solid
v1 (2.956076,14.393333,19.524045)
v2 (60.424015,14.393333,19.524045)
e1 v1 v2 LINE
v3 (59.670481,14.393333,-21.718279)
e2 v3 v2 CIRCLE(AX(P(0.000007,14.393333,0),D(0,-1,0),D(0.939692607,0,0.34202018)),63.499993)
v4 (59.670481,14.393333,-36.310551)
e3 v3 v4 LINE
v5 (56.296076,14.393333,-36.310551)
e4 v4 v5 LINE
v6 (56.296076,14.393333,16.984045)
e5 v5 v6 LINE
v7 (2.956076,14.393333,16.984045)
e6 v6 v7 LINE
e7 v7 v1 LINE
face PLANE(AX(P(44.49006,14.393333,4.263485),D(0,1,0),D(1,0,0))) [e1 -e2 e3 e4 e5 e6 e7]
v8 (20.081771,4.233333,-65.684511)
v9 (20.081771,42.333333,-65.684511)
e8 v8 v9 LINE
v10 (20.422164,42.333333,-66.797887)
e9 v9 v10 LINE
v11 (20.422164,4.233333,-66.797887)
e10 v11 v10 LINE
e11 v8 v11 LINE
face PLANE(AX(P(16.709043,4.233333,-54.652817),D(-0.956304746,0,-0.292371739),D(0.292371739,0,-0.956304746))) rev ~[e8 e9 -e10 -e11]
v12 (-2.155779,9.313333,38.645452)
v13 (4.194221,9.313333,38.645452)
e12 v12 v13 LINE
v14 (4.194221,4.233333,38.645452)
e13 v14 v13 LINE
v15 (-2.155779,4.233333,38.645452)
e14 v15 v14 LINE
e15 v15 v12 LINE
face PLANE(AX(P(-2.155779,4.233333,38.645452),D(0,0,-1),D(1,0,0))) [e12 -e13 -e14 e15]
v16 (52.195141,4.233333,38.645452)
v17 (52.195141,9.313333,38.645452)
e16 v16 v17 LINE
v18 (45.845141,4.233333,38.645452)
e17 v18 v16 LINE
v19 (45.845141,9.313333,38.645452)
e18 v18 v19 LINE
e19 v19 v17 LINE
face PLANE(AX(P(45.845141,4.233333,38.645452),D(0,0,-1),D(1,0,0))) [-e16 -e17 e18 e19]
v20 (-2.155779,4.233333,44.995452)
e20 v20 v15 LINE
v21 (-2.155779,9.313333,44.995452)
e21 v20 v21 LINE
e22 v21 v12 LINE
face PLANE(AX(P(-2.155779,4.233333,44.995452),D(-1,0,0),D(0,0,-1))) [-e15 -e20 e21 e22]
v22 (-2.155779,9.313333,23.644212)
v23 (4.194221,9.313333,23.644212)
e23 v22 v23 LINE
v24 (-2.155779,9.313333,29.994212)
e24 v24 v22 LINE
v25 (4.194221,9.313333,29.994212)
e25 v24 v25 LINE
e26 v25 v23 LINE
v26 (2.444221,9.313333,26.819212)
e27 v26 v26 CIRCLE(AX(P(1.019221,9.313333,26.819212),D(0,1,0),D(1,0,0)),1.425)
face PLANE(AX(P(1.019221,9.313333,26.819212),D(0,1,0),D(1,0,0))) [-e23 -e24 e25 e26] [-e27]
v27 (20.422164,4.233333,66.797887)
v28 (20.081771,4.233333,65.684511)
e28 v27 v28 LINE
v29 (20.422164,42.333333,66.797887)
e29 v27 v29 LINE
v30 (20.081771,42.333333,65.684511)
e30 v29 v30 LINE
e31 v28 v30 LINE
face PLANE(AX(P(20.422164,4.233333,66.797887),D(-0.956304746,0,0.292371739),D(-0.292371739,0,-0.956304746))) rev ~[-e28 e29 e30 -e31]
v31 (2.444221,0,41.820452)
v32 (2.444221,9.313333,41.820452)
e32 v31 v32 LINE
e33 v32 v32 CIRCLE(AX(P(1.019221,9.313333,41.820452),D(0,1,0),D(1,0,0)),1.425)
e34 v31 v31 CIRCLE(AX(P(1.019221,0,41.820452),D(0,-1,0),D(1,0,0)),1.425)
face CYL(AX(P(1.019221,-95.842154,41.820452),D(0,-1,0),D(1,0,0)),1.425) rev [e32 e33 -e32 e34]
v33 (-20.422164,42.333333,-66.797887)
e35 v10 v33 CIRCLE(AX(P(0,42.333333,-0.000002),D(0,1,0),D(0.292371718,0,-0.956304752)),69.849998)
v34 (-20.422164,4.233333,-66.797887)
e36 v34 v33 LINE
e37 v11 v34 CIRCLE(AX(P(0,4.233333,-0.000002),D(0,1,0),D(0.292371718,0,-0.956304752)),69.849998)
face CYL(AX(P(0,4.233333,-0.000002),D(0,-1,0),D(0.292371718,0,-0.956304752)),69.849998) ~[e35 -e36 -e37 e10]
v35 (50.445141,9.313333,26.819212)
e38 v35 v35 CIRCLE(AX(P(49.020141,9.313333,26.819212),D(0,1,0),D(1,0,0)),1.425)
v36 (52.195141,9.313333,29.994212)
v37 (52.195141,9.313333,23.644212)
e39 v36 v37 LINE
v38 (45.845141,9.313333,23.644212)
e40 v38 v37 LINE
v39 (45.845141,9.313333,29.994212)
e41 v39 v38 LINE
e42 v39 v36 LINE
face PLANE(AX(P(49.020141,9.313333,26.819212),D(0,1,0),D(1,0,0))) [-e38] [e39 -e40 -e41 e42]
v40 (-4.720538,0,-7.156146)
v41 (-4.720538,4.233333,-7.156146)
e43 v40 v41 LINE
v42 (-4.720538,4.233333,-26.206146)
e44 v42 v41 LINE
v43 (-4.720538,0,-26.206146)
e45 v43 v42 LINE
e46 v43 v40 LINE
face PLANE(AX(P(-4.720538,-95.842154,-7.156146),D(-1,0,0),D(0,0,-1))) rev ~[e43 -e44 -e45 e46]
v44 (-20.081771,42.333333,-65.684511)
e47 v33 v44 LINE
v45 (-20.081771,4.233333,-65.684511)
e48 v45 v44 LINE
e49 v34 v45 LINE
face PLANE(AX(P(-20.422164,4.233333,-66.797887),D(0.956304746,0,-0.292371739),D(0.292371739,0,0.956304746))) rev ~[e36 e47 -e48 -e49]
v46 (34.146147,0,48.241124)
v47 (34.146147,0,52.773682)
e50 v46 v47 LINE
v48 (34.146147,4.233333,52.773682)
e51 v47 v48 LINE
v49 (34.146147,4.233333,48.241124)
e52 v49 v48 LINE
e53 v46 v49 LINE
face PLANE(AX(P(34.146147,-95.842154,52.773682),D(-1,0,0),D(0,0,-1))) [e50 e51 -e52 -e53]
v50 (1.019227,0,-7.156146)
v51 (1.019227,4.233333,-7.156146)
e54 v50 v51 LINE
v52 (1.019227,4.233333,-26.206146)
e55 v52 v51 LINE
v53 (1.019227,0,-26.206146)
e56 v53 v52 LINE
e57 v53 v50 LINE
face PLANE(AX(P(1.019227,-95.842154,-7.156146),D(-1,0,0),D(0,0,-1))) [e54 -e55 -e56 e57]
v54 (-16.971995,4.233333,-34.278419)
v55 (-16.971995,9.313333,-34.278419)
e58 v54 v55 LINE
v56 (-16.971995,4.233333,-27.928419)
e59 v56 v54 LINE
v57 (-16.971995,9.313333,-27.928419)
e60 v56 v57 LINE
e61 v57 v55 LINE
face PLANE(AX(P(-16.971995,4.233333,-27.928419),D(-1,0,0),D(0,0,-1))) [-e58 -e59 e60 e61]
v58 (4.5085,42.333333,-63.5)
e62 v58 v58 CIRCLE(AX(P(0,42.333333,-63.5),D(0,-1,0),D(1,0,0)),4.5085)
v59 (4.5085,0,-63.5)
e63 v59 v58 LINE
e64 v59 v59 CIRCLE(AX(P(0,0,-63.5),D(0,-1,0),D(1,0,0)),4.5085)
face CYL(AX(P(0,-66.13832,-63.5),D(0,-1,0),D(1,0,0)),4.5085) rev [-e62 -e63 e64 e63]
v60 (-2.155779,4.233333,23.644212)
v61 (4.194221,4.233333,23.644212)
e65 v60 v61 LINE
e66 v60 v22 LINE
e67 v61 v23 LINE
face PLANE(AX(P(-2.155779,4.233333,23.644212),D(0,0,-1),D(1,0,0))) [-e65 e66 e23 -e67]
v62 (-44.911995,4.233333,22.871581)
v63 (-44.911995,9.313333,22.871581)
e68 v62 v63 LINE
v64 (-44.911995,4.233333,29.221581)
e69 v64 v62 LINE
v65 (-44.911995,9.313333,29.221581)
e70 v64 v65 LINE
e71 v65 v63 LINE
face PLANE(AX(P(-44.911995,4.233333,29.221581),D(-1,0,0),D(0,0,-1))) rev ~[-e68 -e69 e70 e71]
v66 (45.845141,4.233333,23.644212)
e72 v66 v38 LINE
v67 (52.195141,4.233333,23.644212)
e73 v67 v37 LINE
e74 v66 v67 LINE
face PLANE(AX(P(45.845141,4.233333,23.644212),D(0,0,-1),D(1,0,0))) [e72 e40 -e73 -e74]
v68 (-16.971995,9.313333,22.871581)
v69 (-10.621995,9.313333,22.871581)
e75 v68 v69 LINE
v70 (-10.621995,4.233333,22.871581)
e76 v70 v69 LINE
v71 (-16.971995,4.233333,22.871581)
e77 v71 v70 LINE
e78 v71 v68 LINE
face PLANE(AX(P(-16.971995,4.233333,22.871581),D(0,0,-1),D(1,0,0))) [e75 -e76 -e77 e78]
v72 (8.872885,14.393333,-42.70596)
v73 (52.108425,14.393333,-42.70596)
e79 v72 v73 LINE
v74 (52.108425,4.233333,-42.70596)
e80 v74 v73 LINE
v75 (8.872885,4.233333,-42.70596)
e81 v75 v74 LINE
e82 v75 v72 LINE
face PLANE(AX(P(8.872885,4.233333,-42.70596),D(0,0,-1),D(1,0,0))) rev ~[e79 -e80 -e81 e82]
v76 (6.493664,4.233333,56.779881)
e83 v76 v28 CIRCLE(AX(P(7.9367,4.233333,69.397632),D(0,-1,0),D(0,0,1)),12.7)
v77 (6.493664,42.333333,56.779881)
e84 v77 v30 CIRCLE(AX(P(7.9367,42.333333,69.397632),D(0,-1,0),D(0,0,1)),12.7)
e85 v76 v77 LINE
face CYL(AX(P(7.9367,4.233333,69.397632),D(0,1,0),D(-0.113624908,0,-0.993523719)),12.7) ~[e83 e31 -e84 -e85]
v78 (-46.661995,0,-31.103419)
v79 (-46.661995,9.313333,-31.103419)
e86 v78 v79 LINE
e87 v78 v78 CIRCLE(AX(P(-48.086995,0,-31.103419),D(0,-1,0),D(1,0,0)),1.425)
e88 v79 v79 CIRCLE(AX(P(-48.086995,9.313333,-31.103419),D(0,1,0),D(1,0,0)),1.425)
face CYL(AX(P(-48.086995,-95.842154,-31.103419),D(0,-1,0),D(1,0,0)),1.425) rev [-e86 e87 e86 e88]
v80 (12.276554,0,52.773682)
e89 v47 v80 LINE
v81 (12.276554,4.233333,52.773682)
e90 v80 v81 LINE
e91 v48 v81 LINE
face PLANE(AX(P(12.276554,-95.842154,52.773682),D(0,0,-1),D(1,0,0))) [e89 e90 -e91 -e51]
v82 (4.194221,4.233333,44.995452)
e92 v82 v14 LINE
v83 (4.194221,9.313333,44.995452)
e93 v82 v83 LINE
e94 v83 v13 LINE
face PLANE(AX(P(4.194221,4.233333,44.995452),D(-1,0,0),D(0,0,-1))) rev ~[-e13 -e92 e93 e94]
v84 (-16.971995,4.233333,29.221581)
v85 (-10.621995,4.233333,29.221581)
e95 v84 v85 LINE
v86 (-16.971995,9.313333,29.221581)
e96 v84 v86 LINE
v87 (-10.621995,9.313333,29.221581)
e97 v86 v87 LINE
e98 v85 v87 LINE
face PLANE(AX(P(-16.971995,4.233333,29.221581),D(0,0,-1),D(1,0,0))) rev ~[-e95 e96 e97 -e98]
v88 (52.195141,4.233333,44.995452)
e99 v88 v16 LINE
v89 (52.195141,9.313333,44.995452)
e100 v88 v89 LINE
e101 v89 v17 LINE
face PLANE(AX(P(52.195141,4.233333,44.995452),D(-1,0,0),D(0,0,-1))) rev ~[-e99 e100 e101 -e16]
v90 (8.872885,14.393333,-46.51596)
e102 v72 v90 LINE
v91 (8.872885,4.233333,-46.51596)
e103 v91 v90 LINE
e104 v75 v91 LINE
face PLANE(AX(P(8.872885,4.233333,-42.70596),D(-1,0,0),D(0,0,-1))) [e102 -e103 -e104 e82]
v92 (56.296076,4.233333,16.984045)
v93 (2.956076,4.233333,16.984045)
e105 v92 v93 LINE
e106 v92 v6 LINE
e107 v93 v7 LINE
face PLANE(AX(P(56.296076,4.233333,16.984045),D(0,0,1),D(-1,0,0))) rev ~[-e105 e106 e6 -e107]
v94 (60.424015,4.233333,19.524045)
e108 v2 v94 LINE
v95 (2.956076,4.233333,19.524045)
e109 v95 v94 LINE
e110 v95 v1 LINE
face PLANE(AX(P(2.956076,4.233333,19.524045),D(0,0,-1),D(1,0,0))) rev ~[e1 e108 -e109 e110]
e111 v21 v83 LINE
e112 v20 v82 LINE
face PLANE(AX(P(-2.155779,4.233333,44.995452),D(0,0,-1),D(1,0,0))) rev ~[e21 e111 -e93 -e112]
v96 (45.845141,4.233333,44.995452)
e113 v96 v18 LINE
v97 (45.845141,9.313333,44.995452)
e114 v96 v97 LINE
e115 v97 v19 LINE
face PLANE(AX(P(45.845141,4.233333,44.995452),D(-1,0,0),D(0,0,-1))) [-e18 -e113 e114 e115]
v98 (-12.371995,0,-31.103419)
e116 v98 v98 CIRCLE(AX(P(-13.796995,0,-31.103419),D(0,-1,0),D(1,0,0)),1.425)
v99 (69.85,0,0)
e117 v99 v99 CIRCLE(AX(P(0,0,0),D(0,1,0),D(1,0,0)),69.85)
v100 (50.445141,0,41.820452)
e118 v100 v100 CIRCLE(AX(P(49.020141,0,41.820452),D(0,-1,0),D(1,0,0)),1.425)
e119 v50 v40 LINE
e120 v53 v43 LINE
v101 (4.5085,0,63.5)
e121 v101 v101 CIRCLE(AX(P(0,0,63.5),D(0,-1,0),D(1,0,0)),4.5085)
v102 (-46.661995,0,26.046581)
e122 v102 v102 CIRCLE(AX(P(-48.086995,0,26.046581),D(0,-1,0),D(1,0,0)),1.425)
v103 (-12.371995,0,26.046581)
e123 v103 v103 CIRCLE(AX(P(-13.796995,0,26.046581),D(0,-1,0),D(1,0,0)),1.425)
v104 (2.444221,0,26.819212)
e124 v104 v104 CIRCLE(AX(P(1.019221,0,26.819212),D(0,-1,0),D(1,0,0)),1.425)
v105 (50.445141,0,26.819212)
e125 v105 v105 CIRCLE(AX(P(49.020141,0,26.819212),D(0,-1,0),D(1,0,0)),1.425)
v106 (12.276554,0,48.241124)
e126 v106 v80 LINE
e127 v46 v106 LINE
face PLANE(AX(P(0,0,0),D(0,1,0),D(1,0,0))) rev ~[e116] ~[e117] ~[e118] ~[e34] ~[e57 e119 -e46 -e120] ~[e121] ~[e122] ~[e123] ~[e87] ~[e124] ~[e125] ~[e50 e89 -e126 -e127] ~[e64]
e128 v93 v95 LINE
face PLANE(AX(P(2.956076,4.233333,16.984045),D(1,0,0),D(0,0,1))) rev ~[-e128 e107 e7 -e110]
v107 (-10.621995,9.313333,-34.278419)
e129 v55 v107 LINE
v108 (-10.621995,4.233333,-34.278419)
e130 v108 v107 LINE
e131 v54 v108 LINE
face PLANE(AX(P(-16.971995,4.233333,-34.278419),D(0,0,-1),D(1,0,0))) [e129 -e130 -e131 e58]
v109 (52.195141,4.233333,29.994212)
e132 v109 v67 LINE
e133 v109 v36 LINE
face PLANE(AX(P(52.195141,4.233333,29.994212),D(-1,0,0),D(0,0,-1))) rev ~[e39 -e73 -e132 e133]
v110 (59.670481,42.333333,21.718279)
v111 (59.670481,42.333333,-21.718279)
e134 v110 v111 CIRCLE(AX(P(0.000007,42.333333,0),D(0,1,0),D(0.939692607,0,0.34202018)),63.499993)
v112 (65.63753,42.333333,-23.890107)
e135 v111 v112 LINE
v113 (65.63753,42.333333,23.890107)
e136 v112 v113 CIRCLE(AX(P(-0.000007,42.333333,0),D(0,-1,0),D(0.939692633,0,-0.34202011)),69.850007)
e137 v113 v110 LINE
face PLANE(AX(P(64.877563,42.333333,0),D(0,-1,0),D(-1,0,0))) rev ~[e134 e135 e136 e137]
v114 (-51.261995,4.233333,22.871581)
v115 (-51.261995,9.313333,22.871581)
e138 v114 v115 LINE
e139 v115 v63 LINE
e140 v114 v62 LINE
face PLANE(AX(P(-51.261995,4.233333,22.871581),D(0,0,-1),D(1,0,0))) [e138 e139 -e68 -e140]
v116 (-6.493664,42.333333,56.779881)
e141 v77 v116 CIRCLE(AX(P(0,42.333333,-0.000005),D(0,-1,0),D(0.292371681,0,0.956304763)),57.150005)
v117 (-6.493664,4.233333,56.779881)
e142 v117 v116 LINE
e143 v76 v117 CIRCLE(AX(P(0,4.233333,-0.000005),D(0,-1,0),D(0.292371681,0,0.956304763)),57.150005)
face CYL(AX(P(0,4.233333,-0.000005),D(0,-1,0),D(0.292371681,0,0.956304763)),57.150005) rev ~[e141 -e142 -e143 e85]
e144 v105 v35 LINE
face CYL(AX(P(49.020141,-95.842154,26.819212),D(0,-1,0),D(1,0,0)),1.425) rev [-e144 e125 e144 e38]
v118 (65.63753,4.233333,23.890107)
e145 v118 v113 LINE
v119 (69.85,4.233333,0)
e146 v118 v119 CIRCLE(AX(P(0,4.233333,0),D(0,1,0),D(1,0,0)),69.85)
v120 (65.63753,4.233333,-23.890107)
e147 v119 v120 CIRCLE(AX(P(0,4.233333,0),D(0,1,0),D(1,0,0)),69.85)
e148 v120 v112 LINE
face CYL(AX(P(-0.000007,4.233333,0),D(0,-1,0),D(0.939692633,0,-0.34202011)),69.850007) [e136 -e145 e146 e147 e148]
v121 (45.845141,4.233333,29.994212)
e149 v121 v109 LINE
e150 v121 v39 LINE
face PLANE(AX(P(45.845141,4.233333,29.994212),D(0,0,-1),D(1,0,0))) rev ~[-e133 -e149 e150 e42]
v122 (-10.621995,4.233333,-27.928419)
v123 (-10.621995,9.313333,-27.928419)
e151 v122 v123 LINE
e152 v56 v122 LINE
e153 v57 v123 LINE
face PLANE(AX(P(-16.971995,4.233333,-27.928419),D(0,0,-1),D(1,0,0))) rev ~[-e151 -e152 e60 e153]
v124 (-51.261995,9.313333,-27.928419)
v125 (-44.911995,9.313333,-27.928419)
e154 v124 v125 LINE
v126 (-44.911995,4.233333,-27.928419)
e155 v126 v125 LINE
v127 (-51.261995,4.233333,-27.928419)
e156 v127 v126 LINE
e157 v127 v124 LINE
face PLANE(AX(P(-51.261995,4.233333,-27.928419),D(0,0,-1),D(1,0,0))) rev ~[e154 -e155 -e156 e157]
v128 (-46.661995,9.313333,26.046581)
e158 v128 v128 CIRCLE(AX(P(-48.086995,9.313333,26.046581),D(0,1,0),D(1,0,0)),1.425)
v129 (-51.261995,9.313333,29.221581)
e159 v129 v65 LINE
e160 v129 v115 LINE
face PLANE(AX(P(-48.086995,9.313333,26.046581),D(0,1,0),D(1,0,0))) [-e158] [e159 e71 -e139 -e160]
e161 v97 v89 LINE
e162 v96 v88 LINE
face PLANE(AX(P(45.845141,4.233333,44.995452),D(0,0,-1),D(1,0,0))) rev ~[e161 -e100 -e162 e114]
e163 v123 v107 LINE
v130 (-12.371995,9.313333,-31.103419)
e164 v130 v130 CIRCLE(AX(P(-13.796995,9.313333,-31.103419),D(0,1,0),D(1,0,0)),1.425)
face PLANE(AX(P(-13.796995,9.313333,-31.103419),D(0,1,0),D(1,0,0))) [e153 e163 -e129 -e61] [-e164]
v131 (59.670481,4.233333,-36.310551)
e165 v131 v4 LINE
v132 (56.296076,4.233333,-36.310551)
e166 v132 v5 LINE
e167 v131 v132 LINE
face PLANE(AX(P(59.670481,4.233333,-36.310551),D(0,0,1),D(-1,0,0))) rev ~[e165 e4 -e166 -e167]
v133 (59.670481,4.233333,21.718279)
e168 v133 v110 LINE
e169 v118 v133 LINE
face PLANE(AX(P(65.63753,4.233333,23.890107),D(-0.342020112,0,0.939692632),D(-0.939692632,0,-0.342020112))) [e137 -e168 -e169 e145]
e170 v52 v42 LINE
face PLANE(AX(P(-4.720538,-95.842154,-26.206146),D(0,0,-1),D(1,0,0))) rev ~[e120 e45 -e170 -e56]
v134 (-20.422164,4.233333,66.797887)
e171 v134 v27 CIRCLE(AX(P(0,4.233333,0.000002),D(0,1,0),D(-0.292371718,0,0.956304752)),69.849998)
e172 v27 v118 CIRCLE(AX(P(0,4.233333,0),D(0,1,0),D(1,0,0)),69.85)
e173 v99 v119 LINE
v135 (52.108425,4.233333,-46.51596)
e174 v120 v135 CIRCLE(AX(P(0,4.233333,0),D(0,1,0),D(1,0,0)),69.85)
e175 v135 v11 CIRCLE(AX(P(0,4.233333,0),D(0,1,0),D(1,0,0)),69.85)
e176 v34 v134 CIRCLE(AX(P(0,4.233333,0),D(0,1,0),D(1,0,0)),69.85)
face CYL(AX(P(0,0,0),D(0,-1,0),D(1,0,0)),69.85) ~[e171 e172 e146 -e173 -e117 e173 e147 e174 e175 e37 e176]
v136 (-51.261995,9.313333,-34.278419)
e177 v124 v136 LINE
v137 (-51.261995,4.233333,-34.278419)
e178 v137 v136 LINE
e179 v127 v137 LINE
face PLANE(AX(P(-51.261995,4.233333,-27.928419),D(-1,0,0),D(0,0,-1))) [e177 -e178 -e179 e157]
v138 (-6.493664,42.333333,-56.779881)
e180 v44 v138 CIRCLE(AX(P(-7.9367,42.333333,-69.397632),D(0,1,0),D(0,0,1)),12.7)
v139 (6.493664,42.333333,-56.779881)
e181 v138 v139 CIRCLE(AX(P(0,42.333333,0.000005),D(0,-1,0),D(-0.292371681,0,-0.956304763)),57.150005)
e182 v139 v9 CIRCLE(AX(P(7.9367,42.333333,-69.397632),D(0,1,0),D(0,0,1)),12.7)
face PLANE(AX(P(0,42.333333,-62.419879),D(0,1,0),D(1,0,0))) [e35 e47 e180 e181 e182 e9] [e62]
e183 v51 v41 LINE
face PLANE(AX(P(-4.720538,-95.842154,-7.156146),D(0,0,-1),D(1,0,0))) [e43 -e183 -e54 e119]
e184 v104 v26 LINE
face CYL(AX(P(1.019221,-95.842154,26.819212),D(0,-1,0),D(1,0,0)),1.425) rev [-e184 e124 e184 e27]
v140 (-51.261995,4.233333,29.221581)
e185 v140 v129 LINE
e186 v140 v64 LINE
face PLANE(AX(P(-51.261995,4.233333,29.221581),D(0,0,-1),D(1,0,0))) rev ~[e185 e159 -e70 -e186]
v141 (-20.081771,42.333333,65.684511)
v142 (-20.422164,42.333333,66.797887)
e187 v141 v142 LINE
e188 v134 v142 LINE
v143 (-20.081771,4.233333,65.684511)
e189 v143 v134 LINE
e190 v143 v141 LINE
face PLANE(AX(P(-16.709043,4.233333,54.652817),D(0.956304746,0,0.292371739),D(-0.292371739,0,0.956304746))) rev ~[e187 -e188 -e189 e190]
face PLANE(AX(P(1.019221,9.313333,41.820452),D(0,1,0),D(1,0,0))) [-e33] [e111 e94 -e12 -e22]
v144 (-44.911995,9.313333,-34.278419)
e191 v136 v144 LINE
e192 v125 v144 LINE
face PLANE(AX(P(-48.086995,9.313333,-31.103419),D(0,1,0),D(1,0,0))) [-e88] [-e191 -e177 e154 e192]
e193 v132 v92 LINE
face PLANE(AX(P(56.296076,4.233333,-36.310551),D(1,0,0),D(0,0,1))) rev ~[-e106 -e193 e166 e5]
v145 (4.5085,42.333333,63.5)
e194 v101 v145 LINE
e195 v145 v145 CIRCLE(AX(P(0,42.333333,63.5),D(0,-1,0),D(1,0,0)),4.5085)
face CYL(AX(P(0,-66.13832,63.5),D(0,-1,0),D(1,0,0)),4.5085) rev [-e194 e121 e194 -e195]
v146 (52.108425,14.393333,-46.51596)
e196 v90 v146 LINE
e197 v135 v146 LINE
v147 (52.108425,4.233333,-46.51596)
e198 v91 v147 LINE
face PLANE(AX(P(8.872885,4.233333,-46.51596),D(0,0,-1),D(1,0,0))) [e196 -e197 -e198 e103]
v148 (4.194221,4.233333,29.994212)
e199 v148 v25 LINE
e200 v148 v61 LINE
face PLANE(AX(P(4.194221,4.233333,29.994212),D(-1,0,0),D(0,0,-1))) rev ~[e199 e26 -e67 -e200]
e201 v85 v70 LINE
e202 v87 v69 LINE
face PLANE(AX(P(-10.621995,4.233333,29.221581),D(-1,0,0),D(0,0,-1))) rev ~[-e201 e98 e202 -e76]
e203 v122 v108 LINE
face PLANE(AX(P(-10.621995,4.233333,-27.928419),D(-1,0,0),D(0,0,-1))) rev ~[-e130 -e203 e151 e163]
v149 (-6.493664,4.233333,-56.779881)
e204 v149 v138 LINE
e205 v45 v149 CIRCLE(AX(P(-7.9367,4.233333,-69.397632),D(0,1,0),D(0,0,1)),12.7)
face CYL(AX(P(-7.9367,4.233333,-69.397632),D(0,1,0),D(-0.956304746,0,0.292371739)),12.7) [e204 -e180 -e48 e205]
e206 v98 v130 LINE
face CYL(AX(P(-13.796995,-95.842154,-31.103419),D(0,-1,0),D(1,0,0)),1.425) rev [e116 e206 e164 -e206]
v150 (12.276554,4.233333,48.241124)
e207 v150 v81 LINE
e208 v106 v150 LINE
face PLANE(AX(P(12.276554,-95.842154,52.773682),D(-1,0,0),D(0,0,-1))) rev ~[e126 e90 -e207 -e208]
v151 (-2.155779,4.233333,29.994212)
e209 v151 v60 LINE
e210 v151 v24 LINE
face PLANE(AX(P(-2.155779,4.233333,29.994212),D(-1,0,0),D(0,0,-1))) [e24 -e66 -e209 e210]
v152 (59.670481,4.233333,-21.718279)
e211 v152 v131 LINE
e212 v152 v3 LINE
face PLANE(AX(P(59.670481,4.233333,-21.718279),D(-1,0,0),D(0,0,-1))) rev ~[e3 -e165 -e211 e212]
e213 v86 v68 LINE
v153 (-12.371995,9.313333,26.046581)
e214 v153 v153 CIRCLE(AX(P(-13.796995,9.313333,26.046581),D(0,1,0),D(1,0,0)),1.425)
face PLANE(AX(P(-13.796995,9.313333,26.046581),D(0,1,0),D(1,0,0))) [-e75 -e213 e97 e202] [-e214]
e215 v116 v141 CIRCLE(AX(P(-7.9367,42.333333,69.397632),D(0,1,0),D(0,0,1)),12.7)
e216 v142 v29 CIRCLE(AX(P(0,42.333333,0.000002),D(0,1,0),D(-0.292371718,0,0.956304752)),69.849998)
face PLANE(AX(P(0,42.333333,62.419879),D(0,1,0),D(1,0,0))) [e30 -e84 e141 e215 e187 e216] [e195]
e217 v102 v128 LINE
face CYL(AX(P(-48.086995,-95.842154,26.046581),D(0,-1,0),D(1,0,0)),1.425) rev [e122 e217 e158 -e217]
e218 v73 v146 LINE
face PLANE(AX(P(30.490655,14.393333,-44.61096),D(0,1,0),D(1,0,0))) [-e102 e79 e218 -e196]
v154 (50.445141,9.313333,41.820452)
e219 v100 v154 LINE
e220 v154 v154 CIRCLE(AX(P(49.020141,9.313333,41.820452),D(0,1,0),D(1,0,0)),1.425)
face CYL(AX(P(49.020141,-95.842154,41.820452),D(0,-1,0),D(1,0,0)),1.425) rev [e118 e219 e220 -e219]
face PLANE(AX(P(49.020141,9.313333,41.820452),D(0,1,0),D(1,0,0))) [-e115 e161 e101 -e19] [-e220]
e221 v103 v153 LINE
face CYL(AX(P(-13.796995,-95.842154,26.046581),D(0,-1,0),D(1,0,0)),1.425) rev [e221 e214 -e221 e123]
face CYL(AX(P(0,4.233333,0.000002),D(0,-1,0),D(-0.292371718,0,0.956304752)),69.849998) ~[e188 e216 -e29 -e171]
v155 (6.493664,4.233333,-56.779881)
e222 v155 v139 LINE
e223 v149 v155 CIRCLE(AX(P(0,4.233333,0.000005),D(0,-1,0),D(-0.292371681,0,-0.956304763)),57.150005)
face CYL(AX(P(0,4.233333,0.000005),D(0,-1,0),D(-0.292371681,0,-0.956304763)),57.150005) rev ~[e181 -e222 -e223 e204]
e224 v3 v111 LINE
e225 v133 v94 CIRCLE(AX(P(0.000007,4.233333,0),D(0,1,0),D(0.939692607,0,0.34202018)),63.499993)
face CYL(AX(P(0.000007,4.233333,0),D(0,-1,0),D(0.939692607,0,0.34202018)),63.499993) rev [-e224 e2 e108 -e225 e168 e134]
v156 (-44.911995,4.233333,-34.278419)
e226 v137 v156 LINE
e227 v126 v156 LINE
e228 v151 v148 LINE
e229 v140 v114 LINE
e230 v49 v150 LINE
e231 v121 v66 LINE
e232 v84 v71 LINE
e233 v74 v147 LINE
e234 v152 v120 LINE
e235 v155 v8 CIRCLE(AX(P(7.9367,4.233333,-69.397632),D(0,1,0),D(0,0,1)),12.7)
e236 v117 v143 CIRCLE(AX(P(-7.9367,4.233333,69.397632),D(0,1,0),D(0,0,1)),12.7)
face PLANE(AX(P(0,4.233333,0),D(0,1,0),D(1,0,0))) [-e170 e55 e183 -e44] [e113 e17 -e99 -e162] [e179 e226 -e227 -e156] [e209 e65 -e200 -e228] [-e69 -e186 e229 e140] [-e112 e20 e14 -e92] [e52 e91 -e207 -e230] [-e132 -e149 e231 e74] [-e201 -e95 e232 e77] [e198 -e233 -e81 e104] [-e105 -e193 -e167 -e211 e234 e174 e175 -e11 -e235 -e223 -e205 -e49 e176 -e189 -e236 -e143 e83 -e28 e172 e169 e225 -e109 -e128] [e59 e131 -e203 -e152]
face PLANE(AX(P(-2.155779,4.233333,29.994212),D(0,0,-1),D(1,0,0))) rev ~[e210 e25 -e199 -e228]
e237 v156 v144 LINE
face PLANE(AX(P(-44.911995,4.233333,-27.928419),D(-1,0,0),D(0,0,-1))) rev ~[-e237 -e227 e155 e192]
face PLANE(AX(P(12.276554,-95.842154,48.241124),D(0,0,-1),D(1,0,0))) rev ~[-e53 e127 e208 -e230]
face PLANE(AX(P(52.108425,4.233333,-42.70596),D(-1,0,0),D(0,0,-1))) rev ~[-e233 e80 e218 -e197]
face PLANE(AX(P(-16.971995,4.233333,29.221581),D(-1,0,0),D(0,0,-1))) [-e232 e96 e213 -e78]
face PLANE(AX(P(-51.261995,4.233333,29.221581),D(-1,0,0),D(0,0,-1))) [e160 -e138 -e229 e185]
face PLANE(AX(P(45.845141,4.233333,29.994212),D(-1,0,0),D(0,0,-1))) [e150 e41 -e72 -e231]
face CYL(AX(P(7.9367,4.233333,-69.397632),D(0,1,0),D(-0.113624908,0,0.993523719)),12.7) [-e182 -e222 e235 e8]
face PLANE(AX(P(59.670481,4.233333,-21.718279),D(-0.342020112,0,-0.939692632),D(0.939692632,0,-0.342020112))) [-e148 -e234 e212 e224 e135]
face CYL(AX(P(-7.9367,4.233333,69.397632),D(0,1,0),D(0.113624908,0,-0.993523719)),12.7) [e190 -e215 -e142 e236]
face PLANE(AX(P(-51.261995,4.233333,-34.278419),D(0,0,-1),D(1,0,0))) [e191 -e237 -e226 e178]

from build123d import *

# Parameters (mm, degrees)
SKETCH2_R               = 69.85
BOSS_EXTRUDE1_DEPTH     = 4.233333
BOSS_EXTRUDE2_DEPTH     = 38.1
FILLET3_R               = 12.7
FILLET4_R               = 12.7
FILLET5_R               = 12.7
BOSS_EXTRUDE3_DEPTH     = 38.1
CUT_EXTRUDE1_DEPTH      = 108.471653
CUT_EXTRUDE1_DEPTH_BACK = 108.471653
SKETCH5_R               = 4.5085
FILLET6_R               = 12.7
SKETCH6_W               = 43.23554
SKETCH6_H               = 3.81
BOSS_EXTRUDE4_DEPTH     = 10.16
SKETCH6_3_W             = 6.35
SKETCH6_3_H             = 6.35
SKETCH6_3_R             = 1.425
BOSS_EXTRUDE5_DEPTH     = 5.08
CUT_EXTRUDE2_DEPTH      = 105.155487
CUT_EXTRUDE2_DEPTH_BACK = 105.155487
SKETCH7_R               = 1.425
SKETCH7_W               = 21.869593
SKETCH7_H               = 4.532558
SKETCH7_W_2             = 5.739765
SKETCH7_H_2             = 19.05


with BuildPart() as part:
    # Sketch2 → Boss-Extrude1 (new body)
    with BuildSketch(Plane(origin=(0, 0, 0), x_dir=(1, 0, 0), z_dir=(0, 1, 0))):
        Circle(SKETCH2_R)
    extrude(amount=BOSS_EXTRUDE1_DEPTH)

    # Sketch3 → Boss-Extrude2 (add)
    with BuildSketch(Plane(origin=(0, 4.233333, 0), x_dir=(1, 0, 0), z_dir=(0, 1, 0))):
        with BuildLine():
            Line((-16.709043, -54.652817), (-20.422164, -66.797887))
            ThreePointArc((-20.422164, -66.797887), (0, -69.85), (20.422164, -66.797887))
            Line((20.422164, -66.797887), (16.709043, -54.652817))
            ThreePointArc((16.709043, -54.652817), (0, -57.15), (-16.709043, -54.652817))
        make_face()
        with BuildLine():
            ThreePointArc((20.422164, 66.797887), (0, 69.85), (-20.422164, 66.797887))
            Line((-20.422164, 66.797887), (-16.709043, 54.652817))
            ThreePointArc((-16.709043, 54.652817), (0, 57.15), (16.709043, 54.652817))
            Line((16.709043, 54.652817), (20.422164, 66.797887))
        make_face()
    extrude(amount=BOSS_EXTRUDE2_DEPTH)

    # Fillet3
    fillet3_edges = [part.edges().sort_by_distance(p)[0] for p in [
        (-16.709043, 23.283333, -54.652817),
    ]]
    fillet(fillet3_edges, radius=FILLET3_R)

    # Fillet4
    fillet4_edges = [part.edges().sort_by_distance(p)[0] for p in [
        (16.709043, 23.283333, 54.652817),
    ]]
    fillet(fillet4_edges, radius=FILLET4_R)

    # Fillet5
    fillet5_edges = [part.edges().sort_by_distance(p)[0] for p in [
        (-16.709043, 23.283333, 54.652817),
    ]]
    fillet(fillet5_edges, radius=FILLET5_R)

    # Sketch4 → Boss-Extrude3 (add)
    with BuildSketch(Plane(origin=(0, 4.233333, 0), x_dir=(1, 0, 0), z_dir=(0, 1, 0))):
        with BuildLine():
            Line((59.670481, 21.718279), (65.63753, 23.890107))
            ThreePointArc((65.63753, 23.890107), (69.85, 0), (65.63753, -23.890107))
            Line((65.63753, -23.890107), (59.670481, -21.718279))
            ThreePointArc((59.670481, -21.718279), (63.5, 0), (59.670481, 21.718279))
        make_face()
    extrude(amount=BOSS_EXTRUDE3_DEPTH)

    # Sketch5 → Cut-Extrude1 (cut, two sides: drawn at the far end of the back side and taken through both)
    with BuildSketch(Plane(origin=(0, 42.333333, 0), x_dir=(1, 0, 0), z_dir=(0, 1, 0)).offset(-CUT_EXTRUDE1_DEPTH_BACK)):
        with Locations((0, 63.5)):
            Circle(SKETCH5_R)
        with Locations((0, -63.5)):
            Circle(SKETCH5_R)
    extrude(amount=CUT_EXTRUDE1_DEPTH + CUT_EXTRUDE1_DEPTH_BACK, mode=Mode.SUBTRACT)

    # Fillet6
    fillet6_edges = [part.edges().sort_by_distance(p)[0] for p in [
        (16.709043, 23.283333, -54.652817),
    ]]
    fillet(fillet6_edges, radius=FILLET6_R)

    # Sketch6 → Boss-Extrude4 (add)
    with BuildSketch(Plane(origin=(0, 4.233333, 0), x_dir=(1, 0, 0), z_dir=(0, 1, 0))):
        with Locations((30.490655, 44.61096)):
            Rectangle(SKETCH6_W, SKETCH6_H)
        with BuildLine():
            Line((59.670481, 36.310551), (56.296076, 36.310551))
            Line((56.296076, 36.310551), (56.296076, -16.984045))
            Line((56.296076, -16.984045), (2.956076, -16.984045))
            Line((2.956076, -16.984045), (2.956076, -19.524045))
            Line((2.956076, -19.524045), (60.424016, -19.524045))
            ThreePointArc((60.424016, -19.524045), (63.489404, 1.160008), (59.670481, 21.718279))
            Line((59.670481, 21.718279), (59.670481, 36.310551))
        make_face()
    extrude(amount=BOSS_EXTRUDE4_DEPTH)

    # Sketch6<3> → Boss-Extrude5 (add)
    # profile 1 of 8: a face of its own
    with BuildSketch(Plane(origin=(0, 4.233333, 0), x_dir=(1, 0, 0), z_dir=(0, 1, 0))):
        with Locations((-13.796995, 31.103419)):
            Rectangle(SKETCH6_3_W, SKETCH6_3_H)
        with Locations((-13.796995, 31.103419)):
            Circle(SKETCH6_3_R, mode=Mode.SUBTRACT)
    # profile 2 of 8: a face of its own
    with BuildSketch(Plane(origin=(0, 4.233333, 0), x_dir=(1, 0, 0), z_dir=(0, 1, 0))):
        with Locations((-48.086995, 31.103419)):
            Rectangle(SKETCH6_3_W, SKETCH6_3_H)
        with Locations((-48.086995, 31.103419)):
            Circle(SKETCH6_3_R, mode=Mode.SUBTRACT)
    # profile 3 of 8: a face of its own
    with BuildSketch(Plane(origin=(0, 4.233333, 0), x_dir=(1, 0, 0), z_dir=(0, 1, 0))):
        with Locations((-13.796995, -26.046581)):
            Rectangle(SKETCH6_3_W, SKETCH6_3_H)
        with Locations((-13.796995, -26.046581)):
            Circle(SKETCH6_3_R, mode=Mode.SUBTRACT)
    # profile 4 of 8: a face of its own
    with BuildSketch(Plane(origin=(0, 4.233333, 0), x_dir=(1, 0, 0), z_dir=(0, 1, 0))):
        with Locations((-48.086995, -26.046581)):
            Rectangle(SKETCH6_3_W, SKETCH6_3_H)
        with Locations((-48.086995, -26.046581)):
            Circle(SKETCH6_3_R, mode=Mode.SUBTRACT)
    # profile 5 of 8: a face of its own
    with BuildSketch(Plane(origin=(0, 4.233333, 0), x_dir=(1, 0, 0), z_dir=(0, 1, 0))):
        with Locations((49.020141, -26.819212)):
            Rectangle(SKETCH6_3_W, SKETCH6_3_H)
        with Locations((49.020141, -26.819212)):
            Circle(SKETCH6_3_R, mode=Mode.SUBTRACT)
    # profile 6 of 8: a face of its own
    with BuildSketch(Plane(origin=(0, 4.233333, 0), x_dir=(1, 0, 0), z_dir=(0, 1, 0))):
        with Locations((1.019221, -26.819212)):
            Rectangle(SKETCH6_3_W, SKETCH6_3_H)
        with Locations((1.019221, -26.819212)):
            Circle(SKETCH6_3_R, mode=Mode.SUBTRACT)
    # profile 7 of 8: a face of its own
    with BuildSketch(Plane(origin=(0, 4.233333, 0), x_dir=(1, 0, 0), z_dir=(0, 1, 0))):
        with Locations((1.019221, -41.820452)):
            Rectangle(SKETCH6_3_W, SKETCH6_3_H)
        with Locations((1.019221, -41.820452)):
            Circle(SKETCH6_3_R, mode=Mode.SUBTRACT)
    # profile 8 of 8: a face of its own
    with BuildSketch(Plane(origin=(0, 4.233333, 0), x_dir=(1, 0, 0), z_dir=(0, 1, 0))):
        with Locations((49.020141, -41.820452)):
            Rectangle(SKETCH6_3_W, SKETCH6_3_H)
        with Locations((49.020141, -41.820452)):
            Circle(SKETCH6_3_R, mode=Mode.SUBTRACT)
    extrude(amount=BOSS_EXTRUDE5_DEPTH)

    # Sketch7 → Cut-Extrude2 (cut, two sides: drawn at the far end of the back side and taken through both)
    with BuildSketch(Plane(origin=(0, 9.313333, 0), x_dir=(1, 0, 0), z_dir=(0, 1, 0)).offset(-CUT_EXTRUDE2_DEPTH_BACK)):
        with Locations((-48.086995, 31.103419)):
            Circle(SKETCH7_R)
        with Locations((-13.796995, 31.103419)):
            Circle(SKETCH7_R)
        with Locations((1.019221, -41.820452)):
            Circle(SKETCH7_R)
        with Locations((1.019221, -26.819212)):
            Circle(SKETCH7_R)
        with Locations((-13.796995, -26.046581)):
            Circle(SKETCH7_R)
        with Locations((-48.086995, -26.046581)):
            Circle(SKETCH7_R)
        with Locations((49.020141, -26.819212)):
            Circle(SKETCH7_R)
        with Locations((49.020141, -41.820452)):
            Circle(SKETCH7_R)
        with Locations((23.21135, -50.507403)):
            Rectangle(SKETCH7_W, SKETCH7_H)
        with Locations((-1.850656, 16.681146)):
            Rectangle(SKETCH7_W_2, SKETCH7_H_2)
    extrude(amount=CUT_EXTRUDE2_DEPTH + CUT_EXTRUDE2_DEPTH_BACK, mode=Mode.SUBTRACT)


solid = part.part
